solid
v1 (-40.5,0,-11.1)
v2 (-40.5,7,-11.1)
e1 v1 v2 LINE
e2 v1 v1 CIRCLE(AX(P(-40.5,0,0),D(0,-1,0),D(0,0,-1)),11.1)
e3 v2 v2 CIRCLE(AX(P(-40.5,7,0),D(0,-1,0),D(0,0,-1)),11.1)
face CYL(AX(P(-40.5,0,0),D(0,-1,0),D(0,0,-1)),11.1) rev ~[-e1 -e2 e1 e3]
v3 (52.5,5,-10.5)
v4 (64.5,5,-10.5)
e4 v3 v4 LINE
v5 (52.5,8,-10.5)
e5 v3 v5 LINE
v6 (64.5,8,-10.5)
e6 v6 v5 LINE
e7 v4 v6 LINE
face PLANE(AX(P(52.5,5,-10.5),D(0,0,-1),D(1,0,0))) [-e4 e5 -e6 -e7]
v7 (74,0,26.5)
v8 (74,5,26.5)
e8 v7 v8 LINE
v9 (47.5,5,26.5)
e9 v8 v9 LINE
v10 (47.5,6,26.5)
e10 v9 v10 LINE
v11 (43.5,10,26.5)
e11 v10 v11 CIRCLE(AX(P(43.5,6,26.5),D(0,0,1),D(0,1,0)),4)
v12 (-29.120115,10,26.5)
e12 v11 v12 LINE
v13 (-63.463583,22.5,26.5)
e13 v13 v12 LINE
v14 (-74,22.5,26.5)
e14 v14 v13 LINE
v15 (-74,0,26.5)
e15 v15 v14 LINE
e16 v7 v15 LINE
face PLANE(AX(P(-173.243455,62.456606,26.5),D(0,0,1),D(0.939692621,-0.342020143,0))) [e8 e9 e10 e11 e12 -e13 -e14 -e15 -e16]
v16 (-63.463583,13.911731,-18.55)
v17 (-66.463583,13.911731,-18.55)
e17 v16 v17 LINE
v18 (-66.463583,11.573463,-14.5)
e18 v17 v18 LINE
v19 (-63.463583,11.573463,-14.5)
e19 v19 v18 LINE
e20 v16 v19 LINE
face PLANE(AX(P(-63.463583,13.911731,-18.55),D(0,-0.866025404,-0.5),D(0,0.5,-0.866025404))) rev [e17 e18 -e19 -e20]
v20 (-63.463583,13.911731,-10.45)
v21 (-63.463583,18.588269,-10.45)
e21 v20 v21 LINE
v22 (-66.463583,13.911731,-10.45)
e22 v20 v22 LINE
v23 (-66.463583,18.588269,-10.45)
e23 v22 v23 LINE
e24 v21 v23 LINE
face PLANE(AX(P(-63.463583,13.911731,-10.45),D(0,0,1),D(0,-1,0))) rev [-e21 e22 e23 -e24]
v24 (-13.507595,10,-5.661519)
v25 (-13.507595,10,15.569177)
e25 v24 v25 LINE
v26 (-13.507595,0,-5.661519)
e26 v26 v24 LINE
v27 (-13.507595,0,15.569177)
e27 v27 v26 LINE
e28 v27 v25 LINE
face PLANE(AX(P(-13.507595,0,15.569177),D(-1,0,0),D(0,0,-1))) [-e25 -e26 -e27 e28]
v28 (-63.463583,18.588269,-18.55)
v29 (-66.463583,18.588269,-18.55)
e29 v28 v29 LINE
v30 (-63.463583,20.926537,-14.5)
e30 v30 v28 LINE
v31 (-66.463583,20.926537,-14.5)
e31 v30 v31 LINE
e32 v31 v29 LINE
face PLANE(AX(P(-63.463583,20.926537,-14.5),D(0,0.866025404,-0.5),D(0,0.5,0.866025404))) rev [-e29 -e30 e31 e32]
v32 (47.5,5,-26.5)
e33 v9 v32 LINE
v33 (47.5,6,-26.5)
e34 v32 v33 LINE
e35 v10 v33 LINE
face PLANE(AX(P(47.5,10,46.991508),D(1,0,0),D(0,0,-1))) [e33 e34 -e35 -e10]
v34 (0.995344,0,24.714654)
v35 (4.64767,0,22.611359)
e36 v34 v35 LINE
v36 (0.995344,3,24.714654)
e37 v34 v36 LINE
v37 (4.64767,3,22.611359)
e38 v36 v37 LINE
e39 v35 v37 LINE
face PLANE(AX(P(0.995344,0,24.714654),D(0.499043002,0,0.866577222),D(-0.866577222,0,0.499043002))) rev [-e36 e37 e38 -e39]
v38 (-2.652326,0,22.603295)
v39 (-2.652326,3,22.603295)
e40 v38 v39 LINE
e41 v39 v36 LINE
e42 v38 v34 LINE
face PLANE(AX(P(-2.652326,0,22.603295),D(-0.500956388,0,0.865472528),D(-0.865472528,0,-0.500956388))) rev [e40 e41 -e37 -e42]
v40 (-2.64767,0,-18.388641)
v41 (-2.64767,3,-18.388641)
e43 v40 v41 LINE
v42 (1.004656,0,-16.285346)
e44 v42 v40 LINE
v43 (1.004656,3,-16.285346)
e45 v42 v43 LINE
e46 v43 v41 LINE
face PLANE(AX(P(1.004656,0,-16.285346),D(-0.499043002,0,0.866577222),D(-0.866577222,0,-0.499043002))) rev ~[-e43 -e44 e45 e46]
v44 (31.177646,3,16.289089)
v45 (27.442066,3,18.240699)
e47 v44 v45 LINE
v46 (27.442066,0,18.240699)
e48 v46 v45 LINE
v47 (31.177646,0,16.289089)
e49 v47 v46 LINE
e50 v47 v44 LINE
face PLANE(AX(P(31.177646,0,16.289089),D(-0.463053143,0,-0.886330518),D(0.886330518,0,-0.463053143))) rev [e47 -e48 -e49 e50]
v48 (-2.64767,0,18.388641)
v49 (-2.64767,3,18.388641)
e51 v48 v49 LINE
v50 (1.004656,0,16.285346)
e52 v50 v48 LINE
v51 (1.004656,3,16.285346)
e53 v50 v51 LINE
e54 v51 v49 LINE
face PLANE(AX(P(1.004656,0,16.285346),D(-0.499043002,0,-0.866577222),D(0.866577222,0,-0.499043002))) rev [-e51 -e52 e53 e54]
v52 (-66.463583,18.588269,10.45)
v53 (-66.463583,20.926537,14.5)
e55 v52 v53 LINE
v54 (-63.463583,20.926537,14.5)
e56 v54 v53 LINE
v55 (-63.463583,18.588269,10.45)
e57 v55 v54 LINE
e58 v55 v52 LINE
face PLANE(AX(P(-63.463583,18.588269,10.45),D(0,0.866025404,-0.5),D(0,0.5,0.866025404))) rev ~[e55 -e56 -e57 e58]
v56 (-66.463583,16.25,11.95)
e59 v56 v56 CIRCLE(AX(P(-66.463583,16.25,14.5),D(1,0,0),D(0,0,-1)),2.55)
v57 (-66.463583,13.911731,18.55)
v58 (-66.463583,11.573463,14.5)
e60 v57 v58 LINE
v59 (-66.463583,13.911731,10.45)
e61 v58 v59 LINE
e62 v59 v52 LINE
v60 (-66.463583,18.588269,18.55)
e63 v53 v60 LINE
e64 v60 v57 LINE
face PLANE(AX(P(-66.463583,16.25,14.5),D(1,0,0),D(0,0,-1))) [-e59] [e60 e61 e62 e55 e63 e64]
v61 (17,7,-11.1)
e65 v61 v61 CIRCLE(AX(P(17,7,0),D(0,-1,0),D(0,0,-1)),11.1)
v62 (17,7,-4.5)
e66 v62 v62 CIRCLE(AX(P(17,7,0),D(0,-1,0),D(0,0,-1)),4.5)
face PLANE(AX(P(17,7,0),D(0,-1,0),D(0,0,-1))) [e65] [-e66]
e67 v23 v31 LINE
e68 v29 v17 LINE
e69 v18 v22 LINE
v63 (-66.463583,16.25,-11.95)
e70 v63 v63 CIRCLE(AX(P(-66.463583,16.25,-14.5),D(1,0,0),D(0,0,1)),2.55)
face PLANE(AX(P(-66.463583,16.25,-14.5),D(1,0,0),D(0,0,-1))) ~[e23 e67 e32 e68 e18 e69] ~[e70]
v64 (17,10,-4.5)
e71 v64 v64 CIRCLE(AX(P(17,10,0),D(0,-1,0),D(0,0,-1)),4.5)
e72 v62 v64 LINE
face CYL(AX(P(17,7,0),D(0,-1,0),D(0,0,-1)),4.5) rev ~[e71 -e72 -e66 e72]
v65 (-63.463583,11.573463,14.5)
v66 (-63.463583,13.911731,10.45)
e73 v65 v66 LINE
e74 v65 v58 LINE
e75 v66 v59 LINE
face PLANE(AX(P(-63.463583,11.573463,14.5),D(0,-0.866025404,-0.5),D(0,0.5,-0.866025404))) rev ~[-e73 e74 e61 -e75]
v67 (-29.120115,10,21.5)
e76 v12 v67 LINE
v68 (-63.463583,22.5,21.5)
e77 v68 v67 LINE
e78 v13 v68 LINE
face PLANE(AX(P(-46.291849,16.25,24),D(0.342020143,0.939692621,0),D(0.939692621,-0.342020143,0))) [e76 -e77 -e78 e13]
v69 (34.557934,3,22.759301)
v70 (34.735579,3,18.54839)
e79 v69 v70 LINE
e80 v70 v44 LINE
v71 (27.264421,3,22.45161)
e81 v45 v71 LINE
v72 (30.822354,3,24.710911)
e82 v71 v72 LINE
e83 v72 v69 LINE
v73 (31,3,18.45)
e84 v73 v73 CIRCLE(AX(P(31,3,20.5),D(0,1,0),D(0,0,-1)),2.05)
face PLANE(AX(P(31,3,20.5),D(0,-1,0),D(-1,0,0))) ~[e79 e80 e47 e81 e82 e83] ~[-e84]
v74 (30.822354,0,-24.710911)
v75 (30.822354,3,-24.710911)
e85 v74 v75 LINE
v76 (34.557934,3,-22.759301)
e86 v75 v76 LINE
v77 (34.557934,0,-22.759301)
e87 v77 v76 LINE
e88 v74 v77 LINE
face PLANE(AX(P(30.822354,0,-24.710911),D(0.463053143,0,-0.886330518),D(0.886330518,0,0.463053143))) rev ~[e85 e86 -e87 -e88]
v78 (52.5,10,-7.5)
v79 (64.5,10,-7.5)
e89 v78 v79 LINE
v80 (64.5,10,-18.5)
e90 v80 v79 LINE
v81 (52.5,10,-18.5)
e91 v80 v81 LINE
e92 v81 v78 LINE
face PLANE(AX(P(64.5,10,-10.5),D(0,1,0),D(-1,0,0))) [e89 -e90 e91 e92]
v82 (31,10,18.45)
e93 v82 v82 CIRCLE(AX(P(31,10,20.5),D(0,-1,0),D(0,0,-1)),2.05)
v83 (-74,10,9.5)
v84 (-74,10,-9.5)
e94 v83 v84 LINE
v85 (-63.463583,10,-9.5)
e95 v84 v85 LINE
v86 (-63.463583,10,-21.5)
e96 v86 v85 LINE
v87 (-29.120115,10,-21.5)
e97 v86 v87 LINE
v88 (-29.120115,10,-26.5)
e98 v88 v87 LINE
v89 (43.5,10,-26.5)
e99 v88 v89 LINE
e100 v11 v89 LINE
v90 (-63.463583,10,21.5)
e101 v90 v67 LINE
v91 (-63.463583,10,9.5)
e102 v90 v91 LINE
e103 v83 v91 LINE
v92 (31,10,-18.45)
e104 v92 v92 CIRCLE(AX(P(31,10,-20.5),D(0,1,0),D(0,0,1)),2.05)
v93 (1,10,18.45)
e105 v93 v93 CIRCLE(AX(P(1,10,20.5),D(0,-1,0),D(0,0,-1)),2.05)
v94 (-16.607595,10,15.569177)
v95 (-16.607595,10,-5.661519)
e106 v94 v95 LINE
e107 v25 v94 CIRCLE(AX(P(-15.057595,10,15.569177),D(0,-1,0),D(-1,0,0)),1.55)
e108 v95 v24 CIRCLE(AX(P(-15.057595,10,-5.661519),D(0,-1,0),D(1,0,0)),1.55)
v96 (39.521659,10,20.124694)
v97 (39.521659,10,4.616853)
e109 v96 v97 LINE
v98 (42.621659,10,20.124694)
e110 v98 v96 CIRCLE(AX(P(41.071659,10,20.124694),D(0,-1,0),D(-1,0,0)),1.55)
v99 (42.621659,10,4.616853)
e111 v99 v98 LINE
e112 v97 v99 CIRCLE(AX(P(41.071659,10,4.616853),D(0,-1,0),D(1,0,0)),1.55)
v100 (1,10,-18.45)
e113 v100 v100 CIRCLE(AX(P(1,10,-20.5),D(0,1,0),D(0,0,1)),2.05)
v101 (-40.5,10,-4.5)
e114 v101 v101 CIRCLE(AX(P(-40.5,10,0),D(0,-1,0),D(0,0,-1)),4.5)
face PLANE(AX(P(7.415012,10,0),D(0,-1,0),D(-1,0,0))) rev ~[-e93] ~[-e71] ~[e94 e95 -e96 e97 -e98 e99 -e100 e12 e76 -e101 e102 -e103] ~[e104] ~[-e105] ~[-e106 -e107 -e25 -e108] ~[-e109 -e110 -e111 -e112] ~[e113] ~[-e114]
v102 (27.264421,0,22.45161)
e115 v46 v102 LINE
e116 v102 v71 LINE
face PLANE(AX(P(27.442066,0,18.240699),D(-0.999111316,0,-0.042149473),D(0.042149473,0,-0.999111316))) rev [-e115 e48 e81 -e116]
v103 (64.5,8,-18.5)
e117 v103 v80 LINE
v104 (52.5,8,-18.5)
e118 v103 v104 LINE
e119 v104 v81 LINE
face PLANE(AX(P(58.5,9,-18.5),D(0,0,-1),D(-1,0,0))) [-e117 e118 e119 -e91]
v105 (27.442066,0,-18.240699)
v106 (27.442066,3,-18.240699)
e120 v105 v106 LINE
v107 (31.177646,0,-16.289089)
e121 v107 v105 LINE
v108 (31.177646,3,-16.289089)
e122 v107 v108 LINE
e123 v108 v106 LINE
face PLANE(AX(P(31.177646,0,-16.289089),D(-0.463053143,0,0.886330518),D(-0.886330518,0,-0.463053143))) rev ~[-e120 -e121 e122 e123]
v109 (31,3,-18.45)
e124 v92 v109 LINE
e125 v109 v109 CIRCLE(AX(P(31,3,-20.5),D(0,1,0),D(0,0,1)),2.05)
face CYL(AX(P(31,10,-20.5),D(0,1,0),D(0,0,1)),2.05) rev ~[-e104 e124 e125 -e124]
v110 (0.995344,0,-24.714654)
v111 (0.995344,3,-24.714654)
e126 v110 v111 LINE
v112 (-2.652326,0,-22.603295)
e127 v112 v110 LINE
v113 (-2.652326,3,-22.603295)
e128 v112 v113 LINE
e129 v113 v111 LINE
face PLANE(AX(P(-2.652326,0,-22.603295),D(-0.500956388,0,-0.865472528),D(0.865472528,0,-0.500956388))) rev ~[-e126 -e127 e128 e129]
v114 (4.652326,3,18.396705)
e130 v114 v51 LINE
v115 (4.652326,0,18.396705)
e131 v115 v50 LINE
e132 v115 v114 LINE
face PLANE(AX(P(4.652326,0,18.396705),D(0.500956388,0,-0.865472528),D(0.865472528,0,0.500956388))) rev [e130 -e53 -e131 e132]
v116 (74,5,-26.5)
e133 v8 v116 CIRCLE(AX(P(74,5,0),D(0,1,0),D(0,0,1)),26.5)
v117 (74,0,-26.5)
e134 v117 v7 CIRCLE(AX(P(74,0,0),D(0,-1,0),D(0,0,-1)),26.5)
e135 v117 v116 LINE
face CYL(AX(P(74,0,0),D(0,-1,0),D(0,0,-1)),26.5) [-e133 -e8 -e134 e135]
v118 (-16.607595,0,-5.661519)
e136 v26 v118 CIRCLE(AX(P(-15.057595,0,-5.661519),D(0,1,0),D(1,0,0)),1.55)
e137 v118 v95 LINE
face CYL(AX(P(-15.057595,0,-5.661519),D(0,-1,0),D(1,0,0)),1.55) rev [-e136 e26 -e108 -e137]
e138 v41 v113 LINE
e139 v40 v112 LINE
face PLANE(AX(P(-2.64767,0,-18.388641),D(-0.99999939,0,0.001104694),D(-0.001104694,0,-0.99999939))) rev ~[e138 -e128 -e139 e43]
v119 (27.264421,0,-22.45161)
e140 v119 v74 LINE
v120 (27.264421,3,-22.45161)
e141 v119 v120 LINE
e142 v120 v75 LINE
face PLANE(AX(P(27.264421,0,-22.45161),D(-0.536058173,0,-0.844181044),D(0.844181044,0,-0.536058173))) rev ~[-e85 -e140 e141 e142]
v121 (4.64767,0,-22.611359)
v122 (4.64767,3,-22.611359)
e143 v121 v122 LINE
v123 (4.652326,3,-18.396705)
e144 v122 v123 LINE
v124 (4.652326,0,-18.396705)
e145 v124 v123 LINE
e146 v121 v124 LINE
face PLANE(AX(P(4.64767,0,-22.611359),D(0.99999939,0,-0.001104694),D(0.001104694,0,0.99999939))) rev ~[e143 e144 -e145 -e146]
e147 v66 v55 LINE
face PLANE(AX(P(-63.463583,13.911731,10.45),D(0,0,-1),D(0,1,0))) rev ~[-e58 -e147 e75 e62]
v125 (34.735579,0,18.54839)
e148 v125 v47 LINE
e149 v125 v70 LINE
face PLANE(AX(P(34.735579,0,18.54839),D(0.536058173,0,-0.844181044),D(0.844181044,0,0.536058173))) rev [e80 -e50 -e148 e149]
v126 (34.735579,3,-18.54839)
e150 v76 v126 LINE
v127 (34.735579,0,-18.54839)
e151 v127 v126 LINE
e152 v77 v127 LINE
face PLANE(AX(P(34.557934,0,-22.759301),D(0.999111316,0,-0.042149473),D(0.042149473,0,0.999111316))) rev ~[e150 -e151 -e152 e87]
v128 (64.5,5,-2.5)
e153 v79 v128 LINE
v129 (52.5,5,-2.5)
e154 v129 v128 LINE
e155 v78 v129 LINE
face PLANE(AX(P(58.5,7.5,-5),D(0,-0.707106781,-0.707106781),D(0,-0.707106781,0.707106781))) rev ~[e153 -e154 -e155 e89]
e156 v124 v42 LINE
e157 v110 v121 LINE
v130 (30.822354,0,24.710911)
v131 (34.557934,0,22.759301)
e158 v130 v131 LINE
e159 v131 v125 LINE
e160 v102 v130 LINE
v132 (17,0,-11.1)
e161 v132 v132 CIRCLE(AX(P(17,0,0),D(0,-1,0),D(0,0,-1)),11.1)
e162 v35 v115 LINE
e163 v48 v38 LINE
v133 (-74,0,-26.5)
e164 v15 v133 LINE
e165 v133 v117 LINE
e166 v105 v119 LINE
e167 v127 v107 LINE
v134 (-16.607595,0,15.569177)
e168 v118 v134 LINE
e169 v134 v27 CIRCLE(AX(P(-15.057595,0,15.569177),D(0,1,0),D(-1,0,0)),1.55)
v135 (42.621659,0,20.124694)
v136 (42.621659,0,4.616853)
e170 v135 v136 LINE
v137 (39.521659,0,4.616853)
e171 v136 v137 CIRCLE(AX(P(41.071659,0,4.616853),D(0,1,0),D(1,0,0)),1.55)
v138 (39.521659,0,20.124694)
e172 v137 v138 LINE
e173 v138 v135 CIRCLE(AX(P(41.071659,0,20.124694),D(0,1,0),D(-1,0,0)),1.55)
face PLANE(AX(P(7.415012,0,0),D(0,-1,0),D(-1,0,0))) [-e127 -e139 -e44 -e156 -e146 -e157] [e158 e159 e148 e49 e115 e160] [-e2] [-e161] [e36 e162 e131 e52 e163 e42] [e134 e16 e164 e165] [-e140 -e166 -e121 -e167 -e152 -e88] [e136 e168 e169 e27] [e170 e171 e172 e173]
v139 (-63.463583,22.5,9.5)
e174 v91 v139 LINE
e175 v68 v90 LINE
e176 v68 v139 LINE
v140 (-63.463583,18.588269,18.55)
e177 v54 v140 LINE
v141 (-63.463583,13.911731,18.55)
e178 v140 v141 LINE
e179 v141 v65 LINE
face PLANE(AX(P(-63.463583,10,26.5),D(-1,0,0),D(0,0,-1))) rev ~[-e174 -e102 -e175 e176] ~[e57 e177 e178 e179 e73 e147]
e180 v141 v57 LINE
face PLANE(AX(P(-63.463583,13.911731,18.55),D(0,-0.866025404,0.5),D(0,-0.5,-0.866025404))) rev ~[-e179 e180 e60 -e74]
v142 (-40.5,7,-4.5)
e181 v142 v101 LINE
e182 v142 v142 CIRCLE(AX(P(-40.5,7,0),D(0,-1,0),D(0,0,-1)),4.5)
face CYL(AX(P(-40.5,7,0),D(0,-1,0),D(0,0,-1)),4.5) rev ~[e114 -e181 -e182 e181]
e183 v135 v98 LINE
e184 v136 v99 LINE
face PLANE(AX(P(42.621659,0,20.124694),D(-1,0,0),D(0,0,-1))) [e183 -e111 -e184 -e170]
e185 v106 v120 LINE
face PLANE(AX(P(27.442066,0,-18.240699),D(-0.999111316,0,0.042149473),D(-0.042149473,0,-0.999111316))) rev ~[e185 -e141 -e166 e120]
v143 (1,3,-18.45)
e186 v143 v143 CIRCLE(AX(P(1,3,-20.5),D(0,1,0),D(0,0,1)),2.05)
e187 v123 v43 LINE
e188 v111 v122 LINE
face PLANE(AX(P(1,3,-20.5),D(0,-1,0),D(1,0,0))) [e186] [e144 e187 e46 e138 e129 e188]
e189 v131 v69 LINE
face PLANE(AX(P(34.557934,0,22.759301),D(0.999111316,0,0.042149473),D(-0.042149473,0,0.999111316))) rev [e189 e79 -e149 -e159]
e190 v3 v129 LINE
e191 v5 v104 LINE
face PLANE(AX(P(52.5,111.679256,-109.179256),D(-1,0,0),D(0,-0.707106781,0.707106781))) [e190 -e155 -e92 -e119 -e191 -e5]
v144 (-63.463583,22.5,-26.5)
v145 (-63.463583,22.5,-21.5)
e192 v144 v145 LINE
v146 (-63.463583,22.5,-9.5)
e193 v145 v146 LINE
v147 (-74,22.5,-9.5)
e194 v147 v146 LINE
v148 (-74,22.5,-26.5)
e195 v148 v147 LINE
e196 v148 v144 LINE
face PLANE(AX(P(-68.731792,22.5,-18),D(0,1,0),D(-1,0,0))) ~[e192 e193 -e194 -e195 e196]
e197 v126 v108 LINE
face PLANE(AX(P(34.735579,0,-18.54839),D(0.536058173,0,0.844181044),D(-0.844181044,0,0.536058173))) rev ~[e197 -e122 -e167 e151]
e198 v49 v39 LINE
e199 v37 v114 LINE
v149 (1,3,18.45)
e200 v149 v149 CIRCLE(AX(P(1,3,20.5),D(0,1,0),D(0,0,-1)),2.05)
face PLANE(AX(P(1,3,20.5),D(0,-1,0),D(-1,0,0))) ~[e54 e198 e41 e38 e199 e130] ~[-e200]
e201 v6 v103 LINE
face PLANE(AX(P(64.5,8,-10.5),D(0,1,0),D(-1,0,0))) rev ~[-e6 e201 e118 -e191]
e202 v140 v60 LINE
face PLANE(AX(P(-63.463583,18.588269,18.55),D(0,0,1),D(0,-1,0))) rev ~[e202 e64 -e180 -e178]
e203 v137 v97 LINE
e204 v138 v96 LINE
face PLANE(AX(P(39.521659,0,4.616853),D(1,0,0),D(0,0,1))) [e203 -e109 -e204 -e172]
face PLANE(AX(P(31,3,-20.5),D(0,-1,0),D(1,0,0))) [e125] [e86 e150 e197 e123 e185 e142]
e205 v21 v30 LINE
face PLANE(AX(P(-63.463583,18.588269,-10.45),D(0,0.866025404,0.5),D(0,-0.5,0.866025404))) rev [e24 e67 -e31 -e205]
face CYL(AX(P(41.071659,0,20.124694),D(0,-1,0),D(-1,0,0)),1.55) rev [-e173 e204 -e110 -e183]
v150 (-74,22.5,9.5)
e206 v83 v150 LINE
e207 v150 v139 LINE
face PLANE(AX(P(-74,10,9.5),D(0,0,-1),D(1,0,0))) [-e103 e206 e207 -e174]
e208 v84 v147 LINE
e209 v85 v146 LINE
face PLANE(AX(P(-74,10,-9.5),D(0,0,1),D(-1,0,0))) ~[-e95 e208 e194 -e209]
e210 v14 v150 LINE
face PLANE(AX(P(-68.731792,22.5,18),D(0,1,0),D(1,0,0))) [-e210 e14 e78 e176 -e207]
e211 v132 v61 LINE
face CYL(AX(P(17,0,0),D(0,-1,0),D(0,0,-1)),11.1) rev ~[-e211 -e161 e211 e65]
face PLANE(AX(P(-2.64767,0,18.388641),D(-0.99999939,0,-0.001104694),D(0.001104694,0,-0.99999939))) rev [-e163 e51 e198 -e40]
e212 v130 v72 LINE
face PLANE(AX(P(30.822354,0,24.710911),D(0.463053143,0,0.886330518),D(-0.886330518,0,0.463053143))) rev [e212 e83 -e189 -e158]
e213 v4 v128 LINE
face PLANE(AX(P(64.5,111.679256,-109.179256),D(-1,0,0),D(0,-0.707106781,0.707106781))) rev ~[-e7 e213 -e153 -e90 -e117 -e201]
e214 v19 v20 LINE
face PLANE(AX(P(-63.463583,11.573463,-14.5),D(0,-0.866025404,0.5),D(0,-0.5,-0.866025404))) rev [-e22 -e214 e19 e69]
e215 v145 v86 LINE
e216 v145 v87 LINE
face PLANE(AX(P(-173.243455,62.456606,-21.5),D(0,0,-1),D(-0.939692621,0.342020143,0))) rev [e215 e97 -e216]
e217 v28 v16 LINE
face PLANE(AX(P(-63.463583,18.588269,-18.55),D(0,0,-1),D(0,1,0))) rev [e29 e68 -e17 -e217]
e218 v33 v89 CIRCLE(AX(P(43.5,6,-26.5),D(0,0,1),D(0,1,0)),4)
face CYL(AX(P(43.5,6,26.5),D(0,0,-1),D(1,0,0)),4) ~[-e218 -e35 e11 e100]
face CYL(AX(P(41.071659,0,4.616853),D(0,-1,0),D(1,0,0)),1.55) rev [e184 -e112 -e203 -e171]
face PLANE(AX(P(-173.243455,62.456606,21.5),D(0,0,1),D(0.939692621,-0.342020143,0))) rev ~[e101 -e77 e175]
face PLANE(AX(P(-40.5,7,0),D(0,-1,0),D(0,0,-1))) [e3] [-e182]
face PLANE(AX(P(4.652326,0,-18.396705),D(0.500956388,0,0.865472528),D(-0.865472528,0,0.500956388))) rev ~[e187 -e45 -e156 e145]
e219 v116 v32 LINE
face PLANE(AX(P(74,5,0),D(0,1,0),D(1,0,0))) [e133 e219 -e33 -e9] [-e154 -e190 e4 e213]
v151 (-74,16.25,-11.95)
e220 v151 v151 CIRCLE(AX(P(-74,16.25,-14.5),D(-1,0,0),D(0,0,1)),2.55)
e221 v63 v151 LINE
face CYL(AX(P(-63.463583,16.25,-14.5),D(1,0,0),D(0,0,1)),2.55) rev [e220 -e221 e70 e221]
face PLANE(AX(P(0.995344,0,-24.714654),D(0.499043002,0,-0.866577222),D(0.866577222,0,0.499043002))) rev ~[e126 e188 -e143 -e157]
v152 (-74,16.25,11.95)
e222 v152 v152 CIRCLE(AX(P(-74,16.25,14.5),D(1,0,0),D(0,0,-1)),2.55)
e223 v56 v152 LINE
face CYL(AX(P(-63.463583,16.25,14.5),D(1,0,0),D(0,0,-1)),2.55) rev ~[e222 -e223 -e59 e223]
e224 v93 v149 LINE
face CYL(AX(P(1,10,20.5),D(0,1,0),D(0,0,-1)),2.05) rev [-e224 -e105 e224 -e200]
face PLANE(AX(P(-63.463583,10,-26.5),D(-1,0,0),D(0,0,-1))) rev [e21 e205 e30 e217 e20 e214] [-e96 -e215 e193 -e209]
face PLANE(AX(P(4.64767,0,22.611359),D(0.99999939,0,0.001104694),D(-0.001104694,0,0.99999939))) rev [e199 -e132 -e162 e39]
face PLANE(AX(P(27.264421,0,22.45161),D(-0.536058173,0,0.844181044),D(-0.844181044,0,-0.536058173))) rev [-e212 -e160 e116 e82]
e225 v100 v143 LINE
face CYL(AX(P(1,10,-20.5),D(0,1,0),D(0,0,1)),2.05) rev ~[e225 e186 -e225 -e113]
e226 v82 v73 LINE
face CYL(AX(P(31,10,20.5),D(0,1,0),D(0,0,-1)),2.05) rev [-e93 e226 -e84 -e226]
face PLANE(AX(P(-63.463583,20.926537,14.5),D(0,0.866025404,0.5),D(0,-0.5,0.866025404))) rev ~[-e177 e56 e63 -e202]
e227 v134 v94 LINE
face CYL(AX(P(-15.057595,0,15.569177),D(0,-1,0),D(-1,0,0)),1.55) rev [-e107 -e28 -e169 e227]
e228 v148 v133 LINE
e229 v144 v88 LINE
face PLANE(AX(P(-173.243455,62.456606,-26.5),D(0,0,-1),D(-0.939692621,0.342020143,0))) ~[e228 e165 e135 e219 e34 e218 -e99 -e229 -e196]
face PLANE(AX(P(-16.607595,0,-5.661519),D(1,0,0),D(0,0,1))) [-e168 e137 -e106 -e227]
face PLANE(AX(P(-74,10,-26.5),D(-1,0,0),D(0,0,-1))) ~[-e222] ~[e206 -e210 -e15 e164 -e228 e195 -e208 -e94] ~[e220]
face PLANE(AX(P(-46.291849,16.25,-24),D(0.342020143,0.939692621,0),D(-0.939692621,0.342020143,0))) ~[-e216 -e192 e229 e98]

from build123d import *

# Parameters (mm, degrees)
BOSS_EXTRUDE1_DEPTH = 10
SKETCH2_W           = 10.53641682
SKETCH2_H           = 17
BOSS_EXTRUDE2_DEPTH = 12.5
RIB1_REACH          = 117.825
SKETCH3_WALL_W      = 270.198153966
SKETCH3_WALL_H      = 5
CUT_EXTRUDE1_REACH  = 169.608
SKETCH4_R           = 2.55
CUT_EXTRUDE2_DEPTH  = 3
SKETCH6_R           = 11.1
CUT_EXTRUDE3_DEPTH  = 7
CUT_EXTRUDE5_REACH  = 107.084
SKETCH8_R           = 4.5
SKETCH9_R           = 11.1
CUT_EXTRUDE6_DEPTH  = 7
CUT_EXTRUDE7_REACH  = 107.084
SKETCH10_R          = 4.5
SKETCH12_R          = 2.05
CUT_EXTRUDE9_DEPTH  = 105.684048451
CUT_EXTRUDE10_DEPTH = 3
CUT_EXTRUDE11_REACH = 108.343
CUT_EXTRUDE12_REACH = 108.343
SKETCH16_W          = 53
SKETCH16_H          = 93.98301549
CUT_EXTRUDE13_DEPTH = 5
FILLET3_R           = 4
SKETCH17_W          = 12
SKETCH17_H          = 3
BOSS_EXTRUDE3_DEPTH = 5
SKETCH18_W          = 12
SKETCH18_H          = 2
BOSS_EXTRUDE4_DEPTH = 8
RIB2_REACH          = 144.796
SKETCH19_WALL_W     = 294.663434656
SKETCH19_WALL_H     = 12


with BuildPart() as part:
    # Sketch1 → Boss-Extrude1 (new body)
    with BuildSketch(Plane(origin=(0, 0, 0), x_dir=(1, 0, 0), z_dir=(0, 1, 0))):
        with BuildLine():
            Line((-74, 26.5), (74, 26.5))
            ThreePointArc((74, 26.5), (100.5, 0), (74, -26.5))
            Line((74, -26.5), (-74, -26.5))
            Line((-74, -26.5), (-74, 26.5))
        make_face()
    extrude(amount=BOSS_EXTRUDE1_DEPTH)

    # Sketch2 → Boss-Extrude2 (add)
    with BuildSketch(Plane(origin=(0, 10, 0), x_dir=(1, 0, 0), z_dir=(0, 1, 0))):
        with Locations((-68.73179159, -18)):
            Rectangle(SKETCH2_W, SKETCH2_H)
    boss_extrude2 = extrude(amount=BOSS_EXTRUDE2_DEPTH)

    # Sketch3 wall → Rib1 (add, up to next)
    with BuildSketch(Plane(origin=(-46.291849308, 16.25, 26.5), x_dir=(0.939692620789, -0.342020143318, 0), z_dir=(0.342020143318, 0.939692620789, 0)), mode=Mode.PRIVATE) as rib1_sk1:
        with Locations((0, 2.5)):
            Rectangle(SKETCH3_WALL_W, SKETCH3_WALL_H)
    rib1_tool1 = extrude(rib1_sk1.sketch, amount=-RIB1_REACH, mode=Mode.PRIVATE) - part.part
    rib1 = rib1_tool1.solids().sort_by_distance((-46.291849308, 16.25, 26.5))[0]
    add(rib1)

    # Sketch4 → Cut-Extrude1 (cut, up to next)
    with BuildSketch(Plane(origin=(-63.46358318, 0, 0), x_dir=(0, 0, -1), z_dir=(1, 0, 0)), mode=Mode.PRIVATE) as cut_extrude1_sk1:
        with Locations((-14.5, 16.25)):
            Circle(SKETCH4_R)
    cut_extrude1_tool1 = extrude(cut_extrude1_sk1.sketch, amount=-CUT_EXTRUDE1_REACH, mode=Mode.PRIVATE) & part.part
    cut_extrude1 = cut_extrude1_tool1.solids().sort_by_distance((-63.463583, 16.25, 14.5))[0]
    add(cut_extrude1, mode=Mode.SUBTRACT)

    # Sketch5 → Cut-Extrude2 (cut)
    with BuildSketch(Plane(origin=(-63.46358318, 0, 0), x_dir=(0, 0, -1), z_dir=(1, 0, 0))):
        Polygon((-10.45, 13.91173141), (-10.45, 18.58826859), (-14.5, 20.92653718), (-18.55, 18.58826859), (-18.55, 13.91173141), (-14.5, 11.57346282), align=None)
    cut_extrude2 = extrude(amount=-CUT_EXTRUDE2_DEPTH, mode=Mode.SUBTRACT)

    # Mirror1: Boss-Extrude2, Rib1, Cut-Extrude1, Cut-Extrude2 across plane
    add(boss_extrude2.mirror(Plane.XY))
    add(rib1.mirror(Plane.XY))
    add(cut_extrude1.mirror(Plane.XY), mode=Mode.SUBTRACT)
    add(cut_extrude2.mirror(Plane.XY), mode=Mode.SUBTRACT)

    # Sketch6 → Cut-Extrude3 (cut)
    with BuildSketch(Plane.XZ):
        with Locations(Location((-40.5, 0, 0), (0, 0, 270))):
            Circle(SKETCH6_R)
    extrude(amount=-CUT_EXTRUDE3_DEPTH, mode=Mode.SUBTRACT)

    # Sketch8 → Cut-Extrude5 (cut, up to next)
    with BuildSketch(Plane.XZ.offset(-7), mode=Mode.PRIVATE) as cut_extrude5_sk1:
        with Locations(Location((-40.5, 0, 0), (0, 0, 270))):
            Circle(SKETCH8_R)
    cut_extrude5_tool1 = extrude(cut_extrude5_sk1.sketch, amount=-CUT_EXTRUDE5_REACH, mode=Mode.PRIVATE) & part.part
    add(cut_extrude5_tool1.solids().sort_by_distance((-40.5, 7, 0))[0], mode=Mode.SUBTRACT)

    # Sketch9 → Cut-Extrude6 (cut)
    with BuildSketch(Plane.XZ):
        with Locations(Location((17, 0, 0), (0, 0, 270))):
            Circle(SKETCH9_R)
    extrude(amount=-CUT_EXTRUDE6_DEPTH, mode=Mode.SUBTRACT)

    # Sketch10 → Cut-Extrude7 (cut, up to next)
    with BuildSketch(Plane.XZ.offset(-7), mode=Mode.PRIVATE) as cut_extrude7_sk1:
        with Locations(Location((17, 0, 0), (0, 0, 270))):
            Circle(SKETCH10_R)
    cut_extrude7_tool1 = extrude(cut_extrude7_sk1.sketch, amount=-CUT_EXTRUDE7_REACH, mode=Mode.PRIVATE) & part.part
    add(cut_extrude7_tool1.solids().sort_by_distance((17, 7, 0))[0], mode=Mode.SUBTRACT)

    # Sketch12 → Cut-Extrude9 (cut, through all)
    with BuildSketch(Plane(origin=(0, 10, 0), x_dir=(1, 0, 0), z_dir=(0, 1, 0))):
        with Locations(Location((1, 20.5, 0), (0, 0, 270))):
            Circle(SKETCH12_R)
        with Locations(Location((31, 20.5, 0), (0, 0, 270))):
            Circle(SKETCH12_R)
    cut_extrude9 = extrude(amount=-CUT_EXTRUDE9_DEPTH, mode=Mode.SUBTRACT)

    # Sketch13 → Cut-Extrude10 (cut)
    with BuildSketch(Plane.XZ):
        Polygon((4.64766982, -22.61135933), (4.652325726, -18.396704937), (1.004655907, -16.285345607), (-2.64766982, -18.38864067), (-2.652325726, -22.603295063), (0.995344093, -24.714654393), align=None)
        Polygon((34.557933518, -22.759301311), (34.735579089, -18.548389844), (31.177645571, -16.289088533), (27.442066482, -18.240698689), (27.264420911, -22.451610156), (30.822354429, -24.710911467), align=None)
    cut_extrude10 = extrude(amount=-CUT_EXTRUDE10_DEPTH, mode=Mode.SUBTRACT)

    # Mirror2: Cut-Extrude9, Cut-Extrude10 across plane
    add(cut_extrude9.mirror(Plane.XY), mode=Mode.SUBTRACT)
    add(cut_extrude10.mirror(Plane.XY), mode=Mode.SUBTRACT)

    # Sketch14 → Cut-Extrude11 (cut, up to next)
    with BuildSketch(Plane.XZ, mode=Mode.PRIVATE) as cut_extrude11_sk1:
        with BuildLine():
            Line((-13.507595269, 15.569177398), (-13.507595269, -5.661519054))
            ThreePointArc((-13.507595269, -5.661519054), (-15.057595269, -7.211519054), (-16.607595269, -5.661519054))
            Line((-16.607595269, -5.661519054), (-16.607595269, 15.569177398))
            ThreePointArc((-16.607595269, 15.569177398), (-15.057595269, 17.119177398), (-13.507595269, 15.569177398))
        make_face()
    cut_extrude11_tool1 = extrude(cut_extrude11_sk1.sketch, amount=-CUT_EXTRUDE11_REACH, mode=Mode.PRIVATE) & part.part
    add(cut_extrude11_tool1.solids().sort_by_distance((-15.057595, 0, 4.953829))[0], mode=Mode.SUBTRACT)

    # Sketch15 → Cut-Extrude12 (cut, up to next)
    with BuildSketch(Plane.XZ, mode=Mode.PRIVATE) as cut_extrude12_sk1:
        with BuildLine():
            Line((42.621659424, 20.124694382), (42.621659424, 4.616853199))
            ThreePointArc((42.621659424, 4.616853199), (41.071659424, 3.066853199), (39.521659424, 4.616853199))
            Line((39.521659424, 4.616853199), (39.521659424, 20.124694382))
            ThreePointArc((39.521659424, 20.124694382), (41.071659424, 21.674694382), (42.621659424, 20.124694382))
        make_face()
    cut_extrude12_tool1 = extrude(cut_extrude12_sk1.sketch, amount=-CUT_EXTRUDE12_REACH, mode=Mode.PRIVATE) & part.part
    add(cut_extrude12_tool1.solids().sort_by_distance((41.071659, 0, 12.370774))[0], mode=Mode.SUBTRACT)

    # Sketch16 → Cut-Extrude13 (cut)
    with BuildSketch(Plane(origin=(0, 10, 0), x_dir=(1, 0, 0), z_dir=(0, 1, 0))):
        with Locations((74, 0)):
            Rectangle(SKETCH16_W, SKETCH16_H)
    extrude(amount=-CUT_EXTRUDE13_DEPTH, mode=Mode.SUBTRACT)

    # Fillet3
    fillet3_edges = [part.edges().sort_by_distance(p)[0] for p in [
        (47.5, 10, 0),
    ]]
    fillet(fillet3_edges, radius=FILLET3_R)

    # Sketch17 → Boss-Extrude3 (add)
    with BuildSketch(Plane(origin=(0, 5, 0), x_dir=(1, 0, 0), z_dir=(0, 1, 0))):
        with Locations((58.5, 9)):
            Rectangle(SKETCH17_W, SKETCH17_H)
    extrude(amount=BOSS_EXTRUDE3_DEPTH)

    # Sketch18 → Boss-Extrude4 (add)
    with BuildSketch(Plane(origin=(0, 0, -10.5), x_dir=(-1, 0, 0), z_dir=(0, 0, -1))):
        with Locations((-58.5, 9)):
            Rectangle(SKETCH18_W, SKETCH18_H)
    extrude(amount=BOSS_EXTRUDE4_DEPTH)

    # Sketch19 wall → Rib2 (add, up to next)
    with BuildSketch(Plane(origin=(64.5, 7.5, -5), x_dir=(0, -0.707106781187, 0.707106781187), z_dir=(0, -0.707106781187, -0.707106781187)), mode=Mode.PRIVATE) as rib2_sk1:
        with Locations((0, 6)):
            Rectangle(SKETCH19_WALL_W, SKETCH19_WALL_H)
    rib2_tool1 = extrude(rib2_sk1.sketch, amount=RIB2_REACH, mode=Mode.PRIVATE) - part.part
    add(rib2_tool1.solids().sort_by_distance((64.5, 7.5, -5))[0])


solid = part.part
